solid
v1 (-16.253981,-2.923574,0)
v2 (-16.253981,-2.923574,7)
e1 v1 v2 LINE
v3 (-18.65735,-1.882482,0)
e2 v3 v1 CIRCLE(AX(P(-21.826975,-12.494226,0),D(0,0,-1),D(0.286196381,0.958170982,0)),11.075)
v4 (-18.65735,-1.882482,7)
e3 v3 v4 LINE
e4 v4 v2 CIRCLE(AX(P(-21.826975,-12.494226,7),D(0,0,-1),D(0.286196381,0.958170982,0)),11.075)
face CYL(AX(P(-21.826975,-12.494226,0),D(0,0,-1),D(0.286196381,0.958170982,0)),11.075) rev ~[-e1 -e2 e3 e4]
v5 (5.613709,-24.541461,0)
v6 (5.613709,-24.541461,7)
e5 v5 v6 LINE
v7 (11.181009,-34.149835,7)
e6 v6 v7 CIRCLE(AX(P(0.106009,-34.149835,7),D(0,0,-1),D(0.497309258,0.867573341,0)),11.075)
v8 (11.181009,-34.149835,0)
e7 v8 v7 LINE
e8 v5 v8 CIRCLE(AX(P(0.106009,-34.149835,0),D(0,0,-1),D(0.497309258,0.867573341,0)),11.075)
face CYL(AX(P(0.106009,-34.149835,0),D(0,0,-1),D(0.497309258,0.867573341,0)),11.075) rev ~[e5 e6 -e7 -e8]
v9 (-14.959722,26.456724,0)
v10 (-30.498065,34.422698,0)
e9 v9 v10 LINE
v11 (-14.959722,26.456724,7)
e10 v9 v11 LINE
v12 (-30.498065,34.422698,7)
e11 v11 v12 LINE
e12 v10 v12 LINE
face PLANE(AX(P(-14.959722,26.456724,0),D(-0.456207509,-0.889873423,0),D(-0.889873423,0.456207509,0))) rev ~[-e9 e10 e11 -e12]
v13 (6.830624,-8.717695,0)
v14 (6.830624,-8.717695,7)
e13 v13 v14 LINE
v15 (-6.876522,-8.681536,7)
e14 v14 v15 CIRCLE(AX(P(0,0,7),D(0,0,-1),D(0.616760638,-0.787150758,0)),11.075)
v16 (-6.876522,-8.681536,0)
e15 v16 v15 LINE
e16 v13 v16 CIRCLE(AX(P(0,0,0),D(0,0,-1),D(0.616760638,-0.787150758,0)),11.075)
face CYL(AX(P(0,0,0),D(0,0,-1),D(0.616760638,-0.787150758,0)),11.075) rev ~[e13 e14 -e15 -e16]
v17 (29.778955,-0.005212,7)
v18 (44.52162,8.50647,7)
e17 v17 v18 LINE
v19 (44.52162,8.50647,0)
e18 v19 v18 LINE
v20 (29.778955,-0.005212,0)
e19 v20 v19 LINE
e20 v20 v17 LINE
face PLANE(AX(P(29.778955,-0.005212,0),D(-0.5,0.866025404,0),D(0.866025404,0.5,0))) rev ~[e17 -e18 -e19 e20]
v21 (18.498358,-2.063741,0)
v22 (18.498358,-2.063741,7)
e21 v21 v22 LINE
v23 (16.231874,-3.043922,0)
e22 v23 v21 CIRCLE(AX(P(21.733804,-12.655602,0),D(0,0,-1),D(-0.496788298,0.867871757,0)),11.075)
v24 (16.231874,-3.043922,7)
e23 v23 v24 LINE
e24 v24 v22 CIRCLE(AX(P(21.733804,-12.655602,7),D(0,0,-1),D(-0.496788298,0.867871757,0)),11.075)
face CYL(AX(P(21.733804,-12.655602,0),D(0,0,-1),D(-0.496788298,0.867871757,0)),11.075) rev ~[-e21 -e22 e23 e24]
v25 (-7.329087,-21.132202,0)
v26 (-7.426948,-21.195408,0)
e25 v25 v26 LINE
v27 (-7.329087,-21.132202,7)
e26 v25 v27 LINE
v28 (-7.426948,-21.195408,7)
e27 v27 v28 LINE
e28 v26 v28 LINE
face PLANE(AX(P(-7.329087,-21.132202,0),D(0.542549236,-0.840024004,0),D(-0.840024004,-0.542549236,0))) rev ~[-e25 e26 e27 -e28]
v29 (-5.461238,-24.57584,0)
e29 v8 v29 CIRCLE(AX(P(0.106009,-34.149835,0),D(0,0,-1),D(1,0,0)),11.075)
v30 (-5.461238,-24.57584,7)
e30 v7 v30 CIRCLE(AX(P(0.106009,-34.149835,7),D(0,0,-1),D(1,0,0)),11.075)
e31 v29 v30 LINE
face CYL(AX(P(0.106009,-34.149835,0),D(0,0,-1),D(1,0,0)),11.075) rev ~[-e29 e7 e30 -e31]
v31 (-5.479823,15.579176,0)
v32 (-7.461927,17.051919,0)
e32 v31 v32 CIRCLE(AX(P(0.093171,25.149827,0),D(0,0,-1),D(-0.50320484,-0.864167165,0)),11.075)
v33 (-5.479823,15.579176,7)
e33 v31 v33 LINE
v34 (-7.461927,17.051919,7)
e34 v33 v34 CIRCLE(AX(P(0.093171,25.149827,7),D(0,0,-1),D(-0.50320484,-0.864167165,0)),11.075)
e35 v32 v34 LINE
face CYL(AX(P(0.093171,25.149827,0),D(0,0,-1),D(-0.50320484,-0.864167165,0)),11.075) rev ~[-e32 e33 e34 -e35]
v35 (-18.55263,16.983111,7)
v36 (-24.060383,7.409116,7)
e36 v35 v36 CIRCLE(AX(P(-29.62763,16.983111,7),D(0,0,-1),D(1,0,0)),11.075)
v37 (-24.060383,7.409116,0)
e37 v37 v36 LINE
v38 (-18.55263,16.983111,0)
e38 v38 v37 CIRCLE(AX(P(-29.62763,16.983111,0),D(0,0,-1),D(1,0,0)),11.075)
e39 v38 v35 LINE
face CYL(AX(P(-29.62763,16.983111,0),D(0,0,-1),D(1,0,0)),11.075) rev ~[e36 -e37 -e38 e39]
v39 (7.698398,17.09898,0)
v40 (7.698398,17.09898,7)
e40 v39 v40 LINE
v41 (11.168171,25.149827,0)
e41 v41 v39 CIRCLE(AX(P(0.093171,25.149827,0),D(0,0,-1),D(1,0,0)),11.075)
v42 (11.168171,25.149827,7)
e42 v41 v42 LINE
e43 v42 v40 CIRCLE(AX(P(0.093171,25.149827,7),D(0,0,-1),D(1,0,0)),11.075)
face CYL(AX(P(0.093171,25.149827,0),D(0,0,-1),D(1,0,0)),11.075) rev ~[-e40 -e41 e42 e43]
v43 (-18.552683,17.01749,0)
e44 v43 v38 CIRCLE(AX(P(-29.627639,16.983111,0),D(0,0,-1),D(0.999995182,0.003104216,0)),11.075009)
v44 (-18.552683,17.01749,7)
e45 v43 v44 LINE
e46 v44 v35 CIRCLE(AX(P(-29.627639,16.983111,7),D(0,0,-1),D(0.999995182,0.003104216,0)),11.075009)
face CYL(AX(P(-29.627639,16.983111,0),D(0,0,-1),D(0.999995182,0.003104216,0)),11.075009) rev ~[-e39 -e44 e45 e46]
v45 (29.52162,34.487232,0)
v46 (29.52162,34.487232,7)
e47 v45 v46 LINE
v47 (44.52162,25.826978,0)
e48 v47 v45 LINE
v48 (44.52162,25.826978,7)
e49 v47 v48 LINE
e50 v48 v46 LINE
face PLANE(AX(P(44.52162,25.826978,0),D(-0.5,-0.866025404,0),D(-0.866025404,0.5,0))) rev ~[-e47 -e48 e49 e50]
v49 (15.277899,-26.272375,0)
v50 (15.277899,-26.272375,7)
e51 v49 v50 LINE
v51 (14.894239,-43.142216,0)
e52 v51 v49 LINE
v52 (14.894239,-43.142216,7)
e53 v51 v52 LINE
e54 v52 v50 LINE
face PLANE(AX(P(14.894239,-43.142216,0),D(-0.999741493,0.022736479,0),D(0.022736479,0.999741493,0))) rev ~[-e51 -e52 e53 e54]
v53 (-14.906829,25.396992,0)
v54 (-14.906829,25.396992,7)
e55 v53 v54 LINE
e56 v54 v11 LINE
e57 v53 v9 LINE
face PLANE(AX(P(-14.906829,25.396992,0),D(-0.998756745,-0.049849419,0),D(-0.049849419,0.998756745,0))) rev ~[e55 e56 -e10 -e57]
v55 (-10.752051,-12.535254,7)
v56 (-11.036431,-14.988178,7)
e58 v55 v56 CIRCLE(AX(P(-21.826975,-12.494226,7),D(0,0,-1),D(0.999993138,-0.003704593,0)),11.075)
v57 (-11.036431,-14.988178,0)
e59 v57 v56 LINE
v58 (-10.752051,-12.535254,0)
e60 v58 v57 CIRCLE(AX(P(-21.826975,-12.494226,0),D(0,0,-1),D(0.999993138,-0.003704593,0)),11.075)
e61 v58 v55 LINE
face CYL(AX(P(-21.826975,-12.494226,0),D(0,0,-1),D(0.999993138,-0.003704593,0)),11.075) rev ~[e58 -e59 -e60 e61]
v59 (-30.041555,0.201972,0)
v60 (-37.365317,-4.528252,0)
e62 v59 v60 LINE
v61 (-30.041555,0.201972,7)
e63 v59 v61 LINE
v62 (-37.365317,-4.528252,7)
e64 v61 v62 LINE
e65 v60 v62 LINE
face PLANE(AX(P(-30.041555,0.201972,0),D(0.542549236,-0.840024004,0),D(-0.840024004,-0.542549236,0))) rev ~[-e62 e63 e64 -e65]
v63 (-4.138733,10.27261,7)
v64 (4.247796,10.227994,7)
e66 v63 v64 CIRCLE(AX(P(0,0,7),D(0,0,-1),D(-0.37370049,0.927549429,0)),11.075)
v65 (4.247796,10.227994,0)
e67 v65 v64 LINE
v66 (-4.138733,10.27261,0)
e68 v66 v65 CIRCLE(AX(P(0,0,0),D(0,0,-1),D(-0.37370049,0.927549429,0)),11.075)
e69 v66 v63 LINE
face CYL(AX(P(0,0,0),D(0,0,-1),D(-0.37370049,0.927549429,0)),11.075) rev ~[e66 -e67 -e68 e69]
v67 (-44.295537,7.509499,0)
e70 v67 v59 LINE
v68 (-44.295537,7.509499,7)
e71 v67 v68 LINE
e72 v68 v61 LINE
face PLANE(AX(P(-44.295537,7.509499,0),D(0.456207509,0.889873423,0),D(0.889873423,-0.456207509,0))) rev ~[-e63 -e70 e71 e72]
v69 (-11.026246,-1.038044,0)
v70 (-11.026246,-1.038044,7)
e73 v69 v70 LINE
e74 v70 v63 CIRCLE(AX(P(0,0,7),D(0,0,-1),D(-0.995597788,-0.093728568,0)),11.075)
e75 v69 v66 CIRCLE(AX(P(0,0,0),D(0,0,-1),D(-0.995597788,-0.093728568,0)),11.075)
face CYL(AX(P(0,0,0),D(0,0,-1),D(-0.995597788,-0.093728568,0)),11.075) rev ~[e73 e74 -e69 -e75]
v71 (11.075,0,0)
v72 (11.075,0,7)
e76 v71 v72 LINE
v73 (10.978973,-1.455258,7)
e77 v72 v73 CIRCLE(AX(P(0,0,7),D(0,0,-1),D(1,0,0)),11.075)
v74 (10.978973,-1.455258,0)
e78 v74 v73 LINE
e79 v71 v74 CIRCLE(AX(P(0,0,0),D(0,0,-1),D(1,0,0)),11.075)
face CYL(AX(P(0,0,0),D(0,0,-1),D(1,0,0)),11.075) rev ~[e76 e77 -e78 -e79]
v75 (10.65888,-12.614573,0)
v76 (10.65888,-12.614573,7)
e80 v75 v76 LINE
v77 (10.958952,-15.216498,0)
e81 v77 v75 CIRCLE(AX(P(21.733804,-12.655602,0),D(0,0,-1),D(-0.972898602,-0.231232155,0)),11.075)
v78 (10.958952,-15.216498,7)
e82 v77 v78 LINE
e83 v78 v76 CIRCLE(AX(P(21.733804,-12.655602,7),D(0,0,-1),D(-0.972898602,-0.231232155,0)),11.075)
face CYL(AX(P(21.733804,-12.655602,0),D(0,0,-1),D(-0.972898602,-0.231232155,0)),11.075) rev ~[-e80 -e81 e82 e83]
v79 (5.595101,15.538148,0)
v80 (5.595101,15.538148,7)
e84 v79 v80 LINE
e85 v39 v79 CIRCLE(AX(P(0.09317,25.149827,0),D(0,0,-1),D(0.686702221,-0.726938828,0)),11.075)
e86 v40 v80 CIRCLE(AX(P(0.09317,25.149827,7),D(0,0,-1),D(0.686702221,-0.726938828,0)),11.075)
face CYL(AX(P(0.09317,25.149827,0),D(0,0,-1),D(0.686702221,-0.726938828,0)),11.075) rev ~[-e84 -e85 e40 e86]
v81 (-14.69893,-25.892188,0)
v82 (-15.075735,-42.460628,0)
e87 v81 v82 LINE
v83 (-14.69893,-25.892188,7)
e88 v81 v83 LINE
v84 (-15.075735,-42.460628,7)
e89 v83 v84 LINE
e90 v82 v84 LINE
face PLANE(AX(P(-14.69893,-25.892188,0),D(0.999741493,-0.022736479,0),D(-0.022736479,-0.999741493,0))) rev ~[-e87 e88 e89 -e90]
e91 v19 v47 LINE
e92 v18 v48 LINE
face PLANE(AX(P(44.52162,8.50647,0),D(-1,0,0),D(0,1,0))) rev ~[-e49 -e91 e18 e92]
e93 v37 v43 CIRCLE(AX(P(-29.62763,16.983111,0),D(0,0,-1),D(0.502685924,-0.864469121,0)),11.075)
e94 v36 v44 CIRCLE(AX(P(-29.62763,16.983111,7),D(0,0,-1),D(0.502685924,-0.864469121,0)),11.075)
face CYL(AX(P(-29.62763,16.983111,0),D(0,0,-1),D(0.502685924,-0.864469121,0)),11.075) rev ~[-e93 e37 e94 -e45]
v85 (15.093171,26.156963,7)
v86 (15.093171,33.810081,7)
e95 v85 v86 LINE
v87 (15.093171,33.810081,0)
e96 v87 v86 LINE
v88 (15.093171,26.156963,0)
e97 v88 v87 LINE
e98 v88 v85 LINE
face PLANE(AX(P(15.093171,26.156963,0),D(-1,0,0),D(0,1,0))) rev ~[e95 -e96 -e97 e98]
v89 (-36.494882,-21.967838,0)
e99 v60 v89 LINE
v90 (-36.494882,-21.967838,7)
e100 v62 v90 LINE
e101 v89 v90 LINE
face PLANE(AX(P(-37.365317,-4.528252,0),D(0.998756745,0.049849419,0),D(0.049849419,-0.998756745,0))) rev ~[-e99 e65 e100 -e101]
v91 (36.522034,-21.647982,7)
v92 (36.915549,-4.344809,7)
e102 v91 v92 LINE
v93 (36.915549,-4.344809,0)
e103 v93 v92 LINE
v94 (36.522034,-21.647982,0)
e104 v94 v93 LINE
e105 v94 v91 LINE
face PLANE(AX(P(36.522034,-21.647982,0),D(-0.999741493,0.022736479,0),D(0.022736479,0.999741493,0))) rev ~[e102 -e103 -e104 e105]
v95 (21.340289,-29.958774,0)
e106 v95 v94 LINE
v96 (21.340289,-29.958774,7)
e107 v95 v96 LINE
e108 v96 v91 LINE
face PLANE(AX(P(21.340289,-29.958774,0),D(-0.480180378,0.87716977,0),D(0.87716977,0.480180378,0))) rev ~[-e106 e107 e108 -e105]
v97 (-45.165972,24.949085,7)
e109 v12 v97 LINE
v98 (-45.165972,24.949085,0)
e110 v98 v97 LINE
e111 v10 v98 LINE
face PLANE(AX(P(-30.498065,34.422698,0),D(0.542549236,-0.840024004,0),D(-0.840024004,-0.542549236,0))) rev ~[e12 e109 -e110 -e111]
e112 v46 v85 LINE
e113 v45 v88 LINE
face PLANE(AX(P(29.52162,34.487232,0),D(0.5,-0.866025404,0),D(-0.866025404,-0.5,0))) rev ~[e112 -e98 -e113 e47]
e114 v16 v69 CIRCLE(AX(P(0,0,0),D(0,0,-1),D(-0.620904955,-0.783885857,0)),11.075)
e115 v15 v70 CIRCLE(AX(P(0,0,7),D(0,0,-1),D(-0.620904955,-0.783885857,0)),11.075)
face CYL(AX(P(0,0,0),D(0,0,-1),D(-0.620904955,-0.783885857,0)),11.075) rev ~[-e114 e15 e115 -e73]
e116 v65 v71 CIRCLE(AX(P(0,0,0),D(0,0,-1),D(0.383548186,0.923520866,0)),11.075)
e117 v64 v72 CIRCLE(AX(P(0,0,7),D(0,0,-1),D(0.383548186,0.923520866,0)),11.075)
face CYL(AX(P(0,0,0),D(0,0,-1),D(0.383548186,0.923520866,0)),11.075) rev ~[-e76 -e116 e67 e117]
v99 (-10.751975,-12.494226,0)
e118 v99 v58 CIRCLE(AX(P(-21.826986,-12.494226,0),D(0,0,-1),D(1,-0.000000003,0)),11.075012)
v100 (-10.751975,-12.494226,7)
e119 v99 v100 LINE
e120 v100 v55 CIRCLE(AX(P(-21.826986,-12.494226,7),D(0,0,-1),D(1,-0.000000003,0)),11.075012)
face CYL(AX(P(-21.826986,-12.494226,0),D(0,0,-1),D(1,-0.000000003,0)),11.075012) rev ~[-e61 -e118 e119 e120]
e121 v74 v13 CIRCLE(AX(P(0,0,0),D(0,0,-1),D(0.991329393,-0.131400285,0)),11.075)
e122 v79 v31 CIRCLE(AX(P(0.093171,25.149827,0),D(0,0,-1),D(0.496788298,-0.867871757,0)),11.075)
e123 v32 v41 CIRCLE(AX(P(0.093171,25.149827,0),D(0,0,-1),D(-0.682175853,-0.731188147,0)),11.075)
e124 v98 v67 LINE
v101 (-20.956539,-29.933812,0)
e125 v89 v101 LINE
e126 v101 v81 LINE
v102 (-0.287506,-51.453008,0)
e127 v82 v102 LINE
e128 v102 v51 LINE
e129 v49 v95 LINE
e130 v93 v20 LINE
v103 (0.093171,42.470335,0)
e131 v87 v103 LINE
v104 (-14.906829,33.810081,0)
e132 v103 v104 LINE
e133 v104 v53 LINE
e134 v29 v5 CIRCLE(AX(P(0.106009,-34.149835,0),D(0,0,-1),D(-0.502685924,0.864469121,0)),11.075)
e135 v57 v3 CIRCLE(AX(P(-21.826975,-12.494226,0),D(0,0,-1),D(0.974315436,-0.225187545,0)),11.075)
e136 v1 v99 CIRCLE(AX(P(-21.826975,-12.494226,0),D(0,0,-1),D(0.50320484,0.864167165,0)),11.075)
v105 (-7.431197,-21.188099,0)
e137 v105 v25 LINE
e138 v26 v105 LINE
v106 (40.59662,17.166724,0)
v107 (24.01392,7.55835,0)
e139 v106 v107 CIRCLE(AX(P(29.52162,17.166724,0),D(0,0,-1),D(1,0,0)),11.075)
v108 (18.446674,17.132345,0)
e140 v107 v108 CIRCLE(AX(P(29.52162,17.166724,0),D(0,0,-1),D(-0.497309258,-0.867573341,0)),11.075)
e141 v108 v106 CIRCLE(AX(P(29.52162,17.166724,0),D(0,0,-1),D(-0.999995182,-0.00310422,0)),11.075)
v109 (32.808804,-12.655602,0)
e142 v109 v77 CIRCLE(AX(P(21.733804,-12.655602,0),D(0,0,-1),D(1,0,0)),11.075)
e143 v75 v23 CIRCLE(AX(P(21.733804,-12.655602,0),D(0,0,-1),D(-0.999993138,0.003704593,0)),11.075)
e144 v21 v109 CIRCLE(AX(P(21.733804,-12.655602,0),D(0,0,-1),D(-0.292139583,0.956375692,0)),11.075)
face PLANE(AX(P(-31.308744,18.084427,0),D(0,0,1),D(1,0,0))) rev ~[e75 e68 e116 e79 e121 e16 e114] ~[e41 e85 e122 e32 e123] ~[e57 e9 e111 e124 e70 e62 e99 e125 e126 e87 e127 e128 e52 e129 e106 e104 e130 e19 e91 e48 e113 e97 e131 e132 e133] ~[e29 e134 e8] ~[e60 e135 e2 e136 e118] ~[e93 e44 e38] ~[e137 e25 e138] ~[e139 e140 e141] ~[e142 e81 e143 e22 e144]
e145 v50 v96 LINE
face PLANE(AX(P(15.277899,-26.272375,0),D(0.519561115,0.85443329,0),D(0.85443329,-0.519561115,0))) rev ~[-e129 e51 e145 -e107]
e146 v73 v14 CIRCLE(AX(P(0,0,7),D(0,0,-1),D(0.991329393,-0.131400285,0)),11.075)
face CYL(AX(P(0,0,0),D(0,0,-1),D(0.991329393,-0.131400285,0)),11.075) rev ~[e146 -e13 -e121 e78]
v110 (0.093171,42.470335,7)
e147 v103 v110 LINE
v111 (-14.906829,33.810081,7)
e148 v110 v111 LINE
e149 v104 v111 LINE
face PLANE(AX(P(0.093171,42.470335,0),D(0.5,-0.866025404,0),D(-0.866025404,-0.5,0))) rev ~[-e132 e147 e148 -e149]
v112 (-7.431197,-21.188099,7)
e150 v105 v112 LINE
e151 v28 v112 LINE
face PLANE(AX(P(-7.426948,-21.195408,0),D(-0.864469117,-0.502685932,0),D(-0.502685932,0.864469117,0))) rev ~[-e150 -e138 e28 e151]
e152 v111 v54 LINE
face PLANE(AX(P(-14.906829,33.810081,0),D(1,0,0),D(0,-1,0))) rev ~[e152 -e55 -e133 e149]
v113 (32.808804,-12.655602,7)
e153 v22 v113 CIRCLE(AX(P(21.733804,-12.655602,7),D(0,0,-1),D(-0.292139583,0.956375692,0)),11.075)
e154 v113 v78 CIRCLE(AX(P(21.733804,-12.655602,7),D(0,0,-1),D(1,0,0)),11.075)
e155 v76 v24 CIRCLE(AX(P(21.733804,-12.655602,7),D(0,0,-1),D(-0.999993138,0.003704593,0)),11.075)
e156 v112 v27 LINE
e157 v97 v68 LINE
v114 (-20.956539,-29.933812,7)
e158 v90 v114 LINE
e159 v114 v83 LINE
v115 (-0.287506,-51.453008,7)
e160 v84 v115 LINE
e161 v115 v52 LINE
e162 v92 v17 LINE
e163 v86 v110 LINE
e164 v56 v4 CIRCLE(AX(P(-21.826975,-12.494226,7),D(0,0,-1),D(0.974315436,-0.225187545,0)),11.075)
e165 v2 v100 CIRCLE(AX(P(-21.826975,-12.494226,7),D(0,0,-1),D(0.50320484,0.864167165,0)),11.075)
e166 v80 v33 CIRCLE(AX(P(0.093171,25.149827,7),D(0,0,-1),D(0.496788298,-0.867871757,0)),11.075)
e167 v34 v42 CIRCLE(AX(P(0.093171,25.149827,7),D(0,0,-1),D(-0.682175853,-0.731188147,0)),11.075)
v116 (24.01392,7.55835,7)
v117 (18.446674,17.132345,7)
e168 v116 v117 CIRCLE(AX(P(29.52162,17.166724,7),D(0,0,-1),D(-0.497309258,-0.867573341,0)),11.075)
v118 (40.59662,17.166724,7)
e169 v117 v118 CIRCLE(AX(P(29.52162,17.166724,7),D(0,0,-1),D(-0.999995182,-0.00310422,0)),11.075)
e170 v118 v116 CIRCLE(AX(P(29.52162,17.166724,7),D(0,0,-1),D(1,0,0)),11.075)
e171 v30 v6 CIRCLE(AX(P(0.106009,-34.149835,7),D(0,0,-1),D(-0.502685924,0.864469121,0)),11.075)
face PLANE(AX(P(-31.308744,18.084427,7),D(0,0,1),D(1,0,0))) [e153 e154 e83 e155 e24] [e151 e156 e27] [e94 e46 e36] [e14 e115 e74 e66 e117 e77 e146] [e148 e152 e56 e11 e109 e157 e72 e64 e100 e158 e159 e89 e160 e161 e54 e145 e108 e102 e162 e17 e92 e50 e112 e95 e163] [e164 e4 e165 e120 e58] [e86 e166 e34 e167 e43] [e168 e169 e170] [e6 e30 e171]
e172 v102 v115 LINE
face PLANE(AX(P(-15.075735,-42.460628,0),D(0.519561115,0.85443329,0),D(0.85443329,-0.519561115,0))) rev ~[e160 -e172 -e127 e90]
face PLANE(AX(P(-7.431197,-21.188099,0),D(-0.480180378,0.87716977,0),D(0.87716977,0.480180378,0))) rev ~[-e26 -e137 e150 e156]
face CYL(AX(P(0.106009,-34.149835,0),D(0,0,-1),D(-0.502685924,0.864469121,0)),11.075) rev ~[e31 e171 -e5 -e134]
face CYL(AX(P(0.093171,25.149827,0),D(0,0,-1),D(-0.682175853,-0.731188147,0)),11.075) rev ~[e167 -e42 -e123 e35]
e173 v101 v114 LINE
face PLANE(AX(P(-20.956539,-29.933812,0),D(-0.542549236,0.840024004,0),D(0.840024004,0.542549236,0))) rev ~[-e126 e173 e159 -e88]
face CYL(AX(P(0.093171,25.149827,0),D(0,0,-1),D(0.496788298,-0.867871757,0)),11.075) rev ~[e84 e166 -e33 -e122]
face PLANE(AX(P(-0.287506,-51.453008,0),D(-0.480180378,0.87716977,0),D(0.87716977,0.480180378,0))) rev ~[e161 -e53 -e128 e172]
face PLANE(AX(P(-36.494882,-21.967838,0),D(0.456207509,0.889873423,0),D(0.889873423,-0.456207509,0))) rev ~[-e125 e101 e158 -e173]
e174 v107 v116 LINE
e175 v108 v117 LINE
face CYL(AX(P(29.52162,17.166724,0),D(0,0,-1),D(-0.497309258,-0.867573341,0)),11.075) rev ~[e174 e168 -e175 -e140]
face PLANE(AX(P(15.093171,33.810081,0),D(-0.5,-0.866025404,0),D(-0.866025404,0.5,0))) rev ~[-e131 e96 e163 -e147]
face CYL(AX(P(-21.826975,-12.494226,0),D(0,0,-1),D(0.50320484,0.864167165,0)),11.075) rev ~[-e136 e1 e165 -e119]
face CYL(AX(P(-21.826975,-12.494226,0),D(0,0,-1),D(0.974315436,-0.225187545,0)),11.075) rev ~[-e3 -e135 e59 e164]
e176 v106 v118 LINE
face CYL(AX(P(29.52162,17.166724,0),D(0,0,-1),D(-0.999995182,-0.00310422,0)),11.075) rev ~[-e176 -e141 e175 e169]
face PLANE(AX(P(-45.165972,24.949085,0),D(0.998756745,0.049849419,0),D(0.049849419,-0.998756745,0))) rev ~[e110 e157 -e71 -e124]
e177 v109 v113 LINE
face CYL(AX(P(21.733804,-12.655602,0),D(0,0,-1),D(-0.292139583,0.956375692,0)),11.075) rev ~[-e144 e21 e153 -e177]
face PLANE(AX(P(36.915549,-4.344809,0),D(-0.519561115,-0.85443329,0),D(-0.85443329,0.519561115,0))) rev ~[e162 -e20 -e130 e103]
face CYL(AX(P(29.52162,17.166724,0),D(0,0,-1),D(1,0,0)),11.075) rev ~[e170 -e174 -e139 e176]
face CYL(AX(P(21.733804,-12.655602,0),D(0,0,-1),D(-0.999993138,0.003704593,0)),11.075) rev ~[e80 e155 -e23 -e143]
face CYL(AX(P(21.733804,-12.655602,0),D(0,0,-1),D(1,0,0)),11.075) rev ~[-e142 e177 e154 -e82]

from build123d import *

# Parameters (mm, degrees)
F1_DEPTH = 7


with BuildPart() as f1:
    # F0 (on Top) → F1 (new body)
    with BuildSketch(Plane.XY):
        with BuildLine():
            Line((-18.5526829578, 17.017490387), (-14.9068294969, 17.0288079719))
            Line((-14.9068294969, 17.0288079719), (-14.9068294969, 25.39699213))
            Line((-14.9068294969, 25.39699213), (-14.9597222584, 26.4567236773))
            Line((-14.9597222584, 26.4567236773), (-30.4980650394, 34.4226977911))
            Line((-30.4980650394, 34.4226977911), (-45.1659723783, 24.949085267))
            Line((-45.1659723783, 24.949085267), (-44.2955369363, 7.5094986291))
            Line((-44.2955369363, 7.5094986291), (-30.0415552646, 0.2019722978))
            Line((-30.0415552646, 0.2019722978), (-22.6974101401, 4.9453609505))
            Line((-22.6974101401, 4.9453609505), (-22.598117295, 4.8944569227))
            Line((-22.598117295, 4.8944569227), (-24.0603829878, 7.4091156347))
            ThreePointArc((-24.0603829878, 7.4091156347), (-39.2360043497, 22.4908111831), (-18.5526829578, 17.017490387))
        make_face()
        with BuildLine():
            Line((-14.0892868164, 9.0171370394), (-14.4490557214, 16.2252775697))
            Line((-14.4490557214, 16.2252775697), (-14.9068294969, 16.4895733822))
            Line((-14.9068294969, 16.4895733822), (-14.9068294969, 17.0288079719))
            Line((-14.9068294969, 17.0288079719), (-18.5526829578, 17.017490387))
            ThreePointArc((-18.5526829578, 17.017490387), (-18.5526429375, 17.0003007908), (-18.5526295974, 16.9831111532))
            ThreePointArc((-18.5526295974, 16.9831111532), (-20.0278149845, 11.4605044861), (-24.0603829878, 7.4091156347))
            Line((-24.0603829878, 7.4091156347), (-22.598117295, 4.8944569227))
            Line((-22.598117295, 4.8944569227), (-21.4130490309, 4.2869131679))
            Line((-21.4130490309, 4.2869131679), (-14.0892868164, 9.0171370394))
        make_face()
        with BuildLine():
            Line((7.5450461038, 12.1316617283), (5.5951009003, 15.538147707))
            ThreePointArc((5.5951009003, 15.538147707), (0.0521421404, 14.074903417), (-5.4798231028, 15.5791760698))
            Line((-5.4798231028, 15.5791760698), (-7.4549538962, 12.1872309982))
            Line((-7.4549538962, 12.1872309982), (-4.1387329274, 10.2726099291))
            ThreePointArc((-4.1387329274, 10.2726099291), (0.0589181779, 11.0748432787), (4.2477961597, 10.2279935855))
            Line((4.2477961597, 10.2279935855), (7.5450461038, 12.1316617283))
        make_face()
        with BuildLine():
            ThreePointArc((7.6983976037, 17.0989799026), (6.6930526008, 16.2561678079), (5.5951009003, 15.538147707))
            Line((5.5951009003, 15.538147707), (7.5450461038, 12.1316617283))
            Line((7.5450461038, 12.1316617283), (14.5216204926, 16.1595888298))
            Line((14.5216204926, 16.1595888298), (14.5216204926, 17.1201607879))
            Line((14.5216204926, 17.1201607879), (7.6983976037, 17.0989799026))
        make_face()
        with BuildLine():
            Line((-7.4549538962, 12.1872309982), (-5.4798231028, 15.5791760698))
            ThreePointArc((-5.4798231028, 15.5791760698), (-6.5120499472, 16.2601318233), (-7.4619270677, 17.0519186964))
            Line((-7.4619270677, 17.0519186964), (-14.4892258089, 17.0301043117))
            Line((-14.4892258089, 17.0301043117), (-14.4490557214, 16.2252775697))
            Line((-14.4490557214, 16.2252775697), (-7.4549538962, 12.1872309982))
        make_face()
        with BuildLine():
            Line((22.0619456845, 4.1530614915), (18.4983583082, -2.0637409464))
            ThreePointArc((18.4983583082, -2.0637409464), (28.3225469356, -3.7536865399), (32.808804195, -12.6556017326))
            ThreePointArc((32.808804195, -12.6556017326), (23.0230169106, -23.6553088003), (10.9589521726, -15.2164978445))
            Line((10.9589521726, -15.2164978445), (7.5625985652, -21.1415551413))
            Line((7.5625985652, -21.1415551413), (15.2877535418, -25.8390431462))
            Line((15.2877535418, -25.8390431462), (15.2778985596, -26.2723747345))
            Line((15.2778985596, -26.2723747345), (21.3402892473, -29.9587742467))
            Line((21.3402892473, -29.9587742467), (36.5220336844, -21.6479819311))
            Line((36.5220336844, -21.6479819311), (36.915548632, -4.344809417))
            Line((36.915548632, -4.344809417), (29.7789547231, -0.0052117798))
            Line((29.7789547231, -0.0052117798), (29.5216204926, -0.153783767))
            Line((29.5216204926, -0.153783767), (22.0619456845, 4.1530614915))
        make_face()
        with BuildLine():
            Line((16.2318737978, -3.0439220196), (14.28616406, 0.3551647489))
            Line((14.28616406, 0.3551647489), (10.978973026, -1.4552581538))
            ThreePointArc((10.978973026, -1.4552581538), (9.6167137365, -5.4931267881), (6.8306240676, -8.7176946407))
            Line((6.8306240676, -8.7176946407), (6.7423298318, -12.600064047))
            Line((6.7423298318, -12.600064047), (10.6588801919, -12.6145733699))
            ThreePointArc((10.6588801919, -12.6145733699), (12.1631528447, -7.0826081267), (16.2318737978, -3.0439220196))
        make_face()
        with BuildLine():
            Line((21.6541090723, 4.3885260694), (14.28616406, 0.3551647489))
            Line((14.28616406, 0.3551647489), (16.2318737978, -3.0439220196))
            ThreePointArc((16.2318737978, -3.0439220196), (17.3377122014, -2.4904652267), (18.4983583082, -2.0637409464))
            Line((18.4983583082, -2.0637409464), (22.0619456845, 4.1530614915))
            Line((22.0619456845, 4.1530614915), (21.6541090723, 4.3885260694))
        make_face()
        with BuildLine():
            Line((6.5520597579, -20.9663940482), (6.5619147401, -20.53306246))
            Line((6.5619147401, -20.53306246), (0.4995240524, -16.8466629478))
            Line((0.4995240524, -16.8466629478), (-7.3290866708, -21.1322019456))
            Line((-7.3290866708, -21.1322019456), (-7.4269476123, -21.1954077335))
            Line((-7.4269476123, -21.1954077335), (-5.4612375049, -24.5758399433))
            ThreePointArc((-5.4612375049, -24.5758399434), (0.0716298709, -23.0748888223), (5.6137091346, -24.5414607095))
            Line((5.6137091346, -24.5414607095), (7.3758596449, -21.4673276993))
            Line((7.3758596449, -21.4673276993), (6.5520597579, -20.9663940482))
        make_face()
        with BuildLine():
            Line((-6.6834253252, -12.5503267529), (-10.7520506951, -12.5352540501))
            ThreePointArc((-10.7520506951, -12.5352540501), (-10.8256622543, -13.7696665966), (-11.0364312406, -14.98817775))
            Line((-11.0364312406, -14.98817775), (-7.4311973822, -21.1880994032))
            Line((-7.4311973822, -21.1880994032), (-7.3290866708, -21.1322019456))
            Line((-7.3290866708, -21.1322019456), (-6.2886319172, -20.4601998012))
            Line((-6.2886319172, -20.4601998012), (-6.6834253252, -12.5503267529))
        make_face()
        with BuildLine():
            ThreePointArc((-11.0364312406, -14.98817775), (-31.4009702166, -18.061472297), (-18.6573497763, -1.8824820581))
            Line((-18.6573497763, -1.8824820581), (-22.017730434, 3.8963654789))
            Line((-22.017730434, 3.8963654789), (-28.7571941554, -0.4564754847))
            Line((-28.7571941554, -0.4564754847), (-30.0415552646, 0.2019722978))
            Line((-30.0415552646, 0.2019722978), (-37.3653174791, -4.5282515736))
            Line((-37.3653174791, -4.5282515736), (-36.4948820371, -21.9678382115))
            Line((-36.4948820371, -21.9678382115), (-20.9565392561, -29.9338123253))
            Line((-20.9565392561, -29.9338123253), (-14.6989299478, -25.8921883538))
            Line((-14.6989299478, -25.8921883538), (-14.6822203847, -25.1574552634))
            Line((-14.6822203847, -25.1574552634), (-7.4311973822, -21.1880994032))
            Line((-7.4311973822, -21.1880994032), (-11.0364312406, -14.98817775))
        make_face()
        with BuildLine():
            Line((-11.0262455027, -1.0380438881), (-14.2066150638, 0.5924222403))
            Line((-14.2066150638, 0.5924222403), (-16.2539810922, -2.9235743371))
            ThreePointArc((-16.2539810922, -2.9235743371), (-12.2255026968, -6.9745010197), (-10.7519746981, -12.4942256874))
            ThreePointArc((-10.7519746981, -12.4942256874), (-10.7519936974, -12.514739904), (-10.7520506951, -12.5352540501))
            Line((-10.7520506951, -12.5352540501), (-6.6834253252, -12.5503267529))
            Line((-6.6834253252, -12.5503267529), (-6.8765223734, -8.6815358692))
            ThreePointArc((-6.8765223734, -8.6815358692), (-9.7330887607, -5.2841847221), (-11.0262455027, -1.0380438881))
        make_face()
        with BuildLine():
            Line((-16.2539810922, -2.9235743371), (-14.2066150638, 0.5924222403))
            Line((-14.2066150638, 0.5924222403), (-21.4130490309, 4.2869131679))
            Line((-21.4130490309, 4.2869131679), (-22.017730434, 3.8963654789))
            Line((-22.017730434, 3.8963654789), (-18.6573497763, -1.8824820581))
            ThreePointArc((-18.6573497763, -1.8824820581), (-17.4247805902, -2.3317303228), (-16.2539810922, -2.9235743371))
        make_face()
        Polygon((-22.017730434, 3.8963654789), (-22.598117295, 4.8944569227), (-22.6974101401, 4.9453609505), (-30.0415552646, 0.2019722978), (-28.7571941554, -0.4564754847), align=None)
        Polygon((6.5619147401, -20.53306246), (6.7423298318, -12.600064047), (-6.6834253252, -12.5503267529), (-6.2886319172, -20.4601998012), (-7.3290866708, -21.1322019456), (0.4995240524, -16.8466629478), align=None)
        with BuildLine():
            Line((6.7423298318, -12.600064047), (6.8306240676, -8.7176946407))
            ThreePointArc((6.8306240676, -8.7176946407), (-0.0292151983, -11.0749614659), (-6.8765223734, -8.6815358692))
            Line((-6.8765223734, -8.6815358692), (-6.6834253252, -12.5503267529))
            Line((-6.6834253252, -12.5503267529), (6.7423298318, -12.600064047))
        make_face()
        with BuildLine():
            Line((14.28616406, 0.3551647489), (7.5450461038, 12.1316617283))
            Line((7.5450461038, 12.1316617283), (4.2477961597, 10.2279935855))
            ThreePointArc((4.2477961597, 10.2279935855), (9.2114050901, 6.1486292184), (11.075, 0))
            ThreePointArc((11.075, 0), (11.0509671808, -0.7292114703), (10.978973026, -1.4552581538))
            Line((10.978973026, -1.4552581538), (14.28616406, 0.3551647489))
        make_face()
        Polygon((14.5216204926, 16.1595888298), (7.5450461038, 12.1316617283), (14.28616406, 0.3551647489), (21.6541090723, 4.3885260694), (14.5216204926, 8.5064702708), align=None)
        with BuildLine():
            ThreePointArc((11.1681705031, 25.14982742), (10.2638026157, 20.7664648488), (7.6983976037, 17.0989799026))
            Line((7.6983976037, 17.0989799026), (14.5216204926, 17.1201607879))
            Line((14.5216204926, 17.1201607879), (14.5216204926, 25.8269783465))
            Line((14.5216204926, 25.8269783465), (15.0931705031, 26.1569628989))
            Line((15.0931705031, 26.1569628989), (15.0931705031, 33.8100814579))
            Line((15.0931705031, 33.8100814579), (0.0931705031, 42.4703354957))
            Line((0.0931705031, 42.4703354957), (-14.9068294969, 33.8100814579))
            Line((-14.9068294969, 33.8100814579), (-14.9068294969, 25.39699213))
            Line((-14.9068294969, 25.39699213), (-14.4892258089, 17.0301043117))
            Line((-14.4892258089, 17.0301043117), (-7.4619270677, 17.0519186964))
            ThreePointArc((-7.4619270677, 17.0519186964), (-4.3217428258, 35.3068036088), (11.1681705031, 25.14982742))
        make_face()
        with BuildLine():
            Line((15.0931705031, 26.1569628989), (15.0931705031, 17.1219350133))
            Line((15.0931705031, 17.1219350133), (18.4466738531, 17.1323450748))
            ThreePointArc((18.4466738531, 17.1323450748), (29.504430855, 28.2417109685), (40.5966204926, 17.1667243086))
            ThreePointArc((40.5966204926, 17.1667243086), (35.0740004854, 7.5840993334), (24.0139204627, 7.5583495563))
            Line((24.0139204627, 7.5583495563), (22.2890385659, 4.5492329418))
            Line((22.2890385659, 4.5492329418), (29.7789547231, -0.0052117798))
            Line((29.7789547231, -0.0052117798), (44.5216204926, 8.5064702708))
            Line((44.5216204926, 8.5064702708), (44.5216204926, 25.8269783465))
            Line((44.5216204926, 25.8269783465), (29.5216204926, 34.4872323843))
            Line((29.5216204926, 34.4872323843), (15.0931705031, 26.1569628989))
        make_face()
        Polygon((-14.2066150638, 0.5924222403), (-7.4549538962, 12.1872309982), (-14.4490557214, 16.2252775697), (-14.0892868164, 9.0171370394), (-21.4130490309, 4.2869131679), align=None)
        with BuildLine():
            Line((-4.1387329274, 10.2726099291), (-7.4549538962, 12.1872309982))
            Line((-7.4549538962, 12.1872309982), (-14.2066150638, 0.5924222403))
            Line((-14.2066150638, 0.5924222403), (-11.0262455027, -1.0380438881))
            ThreePointArc((-11.0262455027, -1.0380438881), (-9.4592211698, 5.7601006815), (-4.1387329274, 10.2726099291))
        make_face()
        Polygon((-22.017730434, 3.8963654789), (-21.4130490309, 4.2869131679), (-22.598117295, 4.8944569227), align=None)
        Polygon((-14.4490557214, 16.2252775697), (-14.4892258089, 17.0301043117), (-14.9068294969, 17.0288079719), (-14.9068294969, 16.4895733822), align=None)
        Polygon((-14.9068294969, 17.0288079719), (-14.4892258089, 17.0301043117), (-14.9068294969, 25.39699213), align=None)
        Polygon((14.5216204926, 25.8269783465), (14.5216204926, 17.1201607879), (15.0931705031, 17.1219350133), (15.0931705031, 26.1569628989), align=None)
        Polygon((15.0931705031, 17.1219350133), (14.5216204926, 17.1201607879), (14.5216204926, 16.1595888298), (15.0931705031, 16.4895733822), align=None)
        with BuildLine():
            Line((15.0931705031, 16.4895733822), (14.5216204926, 16.1595888298))
            Line((14.5216204926, 16.1595888298), (14.5216204926, 8.5064702708))
            Line((14.5216204926, 8.5064702708), (21.6541090723, 4.3885260694))
            Line((21.6541090723, 4.3885260694), (22.1273191426, 4.6475707814))
            Line((22.1273191426, 4.6475707814), (22.2890385659, 4.5492329418))
            Line((22.2890385659, 4.5492329418), (24.0139204627, 7.5583495563))
            ThreePointArc((24.0139204627, 7.5583495563), (19.9476249742, 11.599477699), (18.4466738531, 17.1323450748))
            Line((18.4466738531, 17.1323450748), (15.0931705031, 17.1219350133))
            Line((15.0931705031, 17.1219350133), (15.0931705031, 16.4895733822))
        make_face()
        Polygon((22.2890385659, 4.5492329418), (22.0619456845, 4.1530614915), (29.5216204926, -0.153783767), (29.7789547231, -0.0052117798), align=None)
        Polygon((22.1273191426, 4.6475707814), (21.6541090723, 4.3885260694), (22.0619456845, 4.1530614915), (22.2890385659, 4.5492329418), align=None)
        Polygon((-7.4269476123, -21.1954077335), (-7.4311973822, -21.1880994032), (-14.6822203847, -25.1574552634), (-14.6989299478, -25.8921883538), align=None)
        with BuildLine():
            Line((15.2778985596, -26.2723747345), (7.3758596449, -21.4673276993))
            Line((7.3758596449, -21.4673276993), (5.6137091346, -24.5414607095))
            ThreePointArc((5.6137091346, -24.5414607095), (9.6886340799, -28.597455469), (11.1810091047, -34.1498354618))
            ThreePointArc((11.1810091047, -34.1498354618), (-5.4165975624, -43.7496500747), (-5.4612375049, -24.5758399434))
            Line((-5.4612375049, -24.5758399433), (-7.4269476123, -21.1954077335))
            Line((-7.4269476123, -21.1954077335), (-14.6989299478, -25.8921883538))
            Line((-14.6989299478, -25.8921883538), (-15.0757353323, -42.4606277774))
            Line((-15.0757353323, -42.4606277774), (-0.2875058429, -51.4530079759))
            Line((-0.2875058429, -51.4530079759), (14.8942385941, -43.1422156603))
            Line((14.8942385941, -43.1422156603), (15.2778985596, -26.2723747345))
        make_face()
        Polygon((15.2877535418, -25.8390431462), (7.5625985652, -21.1415551413), (7.3758596449, -21.4673276993), (15.2778985596, -26.2723747345), align=None)
        Polygon((7.5625985652, -21.1415551413), (6.5619147401, -20.53306246), (6.5520597579, -20.9663940482), (7.3758596449, -21.4673276993), align=None)
        with BuildLine():
            ThreePointArc((10.9589521726, -15.2164978445), (10.7317279894, -13.9244374851), (10.6588801919, -12.6145733699))
            Line((10.6588801919, -12.6145733699), (6.7423298318, -12.600064047))
            Line((6.7423298318, -12.600064047), (6.5619147401, -20.53306246))
            Line((6.5619147401, -20.53306246), (7.5625985652, -21.1415551413))
            Line((7.5625985652, -21.1415551413), (10.9589521726, -15.2164978445))
        make_face()
    extrude(amount=F1_DEPTH)


solid = f1.part
